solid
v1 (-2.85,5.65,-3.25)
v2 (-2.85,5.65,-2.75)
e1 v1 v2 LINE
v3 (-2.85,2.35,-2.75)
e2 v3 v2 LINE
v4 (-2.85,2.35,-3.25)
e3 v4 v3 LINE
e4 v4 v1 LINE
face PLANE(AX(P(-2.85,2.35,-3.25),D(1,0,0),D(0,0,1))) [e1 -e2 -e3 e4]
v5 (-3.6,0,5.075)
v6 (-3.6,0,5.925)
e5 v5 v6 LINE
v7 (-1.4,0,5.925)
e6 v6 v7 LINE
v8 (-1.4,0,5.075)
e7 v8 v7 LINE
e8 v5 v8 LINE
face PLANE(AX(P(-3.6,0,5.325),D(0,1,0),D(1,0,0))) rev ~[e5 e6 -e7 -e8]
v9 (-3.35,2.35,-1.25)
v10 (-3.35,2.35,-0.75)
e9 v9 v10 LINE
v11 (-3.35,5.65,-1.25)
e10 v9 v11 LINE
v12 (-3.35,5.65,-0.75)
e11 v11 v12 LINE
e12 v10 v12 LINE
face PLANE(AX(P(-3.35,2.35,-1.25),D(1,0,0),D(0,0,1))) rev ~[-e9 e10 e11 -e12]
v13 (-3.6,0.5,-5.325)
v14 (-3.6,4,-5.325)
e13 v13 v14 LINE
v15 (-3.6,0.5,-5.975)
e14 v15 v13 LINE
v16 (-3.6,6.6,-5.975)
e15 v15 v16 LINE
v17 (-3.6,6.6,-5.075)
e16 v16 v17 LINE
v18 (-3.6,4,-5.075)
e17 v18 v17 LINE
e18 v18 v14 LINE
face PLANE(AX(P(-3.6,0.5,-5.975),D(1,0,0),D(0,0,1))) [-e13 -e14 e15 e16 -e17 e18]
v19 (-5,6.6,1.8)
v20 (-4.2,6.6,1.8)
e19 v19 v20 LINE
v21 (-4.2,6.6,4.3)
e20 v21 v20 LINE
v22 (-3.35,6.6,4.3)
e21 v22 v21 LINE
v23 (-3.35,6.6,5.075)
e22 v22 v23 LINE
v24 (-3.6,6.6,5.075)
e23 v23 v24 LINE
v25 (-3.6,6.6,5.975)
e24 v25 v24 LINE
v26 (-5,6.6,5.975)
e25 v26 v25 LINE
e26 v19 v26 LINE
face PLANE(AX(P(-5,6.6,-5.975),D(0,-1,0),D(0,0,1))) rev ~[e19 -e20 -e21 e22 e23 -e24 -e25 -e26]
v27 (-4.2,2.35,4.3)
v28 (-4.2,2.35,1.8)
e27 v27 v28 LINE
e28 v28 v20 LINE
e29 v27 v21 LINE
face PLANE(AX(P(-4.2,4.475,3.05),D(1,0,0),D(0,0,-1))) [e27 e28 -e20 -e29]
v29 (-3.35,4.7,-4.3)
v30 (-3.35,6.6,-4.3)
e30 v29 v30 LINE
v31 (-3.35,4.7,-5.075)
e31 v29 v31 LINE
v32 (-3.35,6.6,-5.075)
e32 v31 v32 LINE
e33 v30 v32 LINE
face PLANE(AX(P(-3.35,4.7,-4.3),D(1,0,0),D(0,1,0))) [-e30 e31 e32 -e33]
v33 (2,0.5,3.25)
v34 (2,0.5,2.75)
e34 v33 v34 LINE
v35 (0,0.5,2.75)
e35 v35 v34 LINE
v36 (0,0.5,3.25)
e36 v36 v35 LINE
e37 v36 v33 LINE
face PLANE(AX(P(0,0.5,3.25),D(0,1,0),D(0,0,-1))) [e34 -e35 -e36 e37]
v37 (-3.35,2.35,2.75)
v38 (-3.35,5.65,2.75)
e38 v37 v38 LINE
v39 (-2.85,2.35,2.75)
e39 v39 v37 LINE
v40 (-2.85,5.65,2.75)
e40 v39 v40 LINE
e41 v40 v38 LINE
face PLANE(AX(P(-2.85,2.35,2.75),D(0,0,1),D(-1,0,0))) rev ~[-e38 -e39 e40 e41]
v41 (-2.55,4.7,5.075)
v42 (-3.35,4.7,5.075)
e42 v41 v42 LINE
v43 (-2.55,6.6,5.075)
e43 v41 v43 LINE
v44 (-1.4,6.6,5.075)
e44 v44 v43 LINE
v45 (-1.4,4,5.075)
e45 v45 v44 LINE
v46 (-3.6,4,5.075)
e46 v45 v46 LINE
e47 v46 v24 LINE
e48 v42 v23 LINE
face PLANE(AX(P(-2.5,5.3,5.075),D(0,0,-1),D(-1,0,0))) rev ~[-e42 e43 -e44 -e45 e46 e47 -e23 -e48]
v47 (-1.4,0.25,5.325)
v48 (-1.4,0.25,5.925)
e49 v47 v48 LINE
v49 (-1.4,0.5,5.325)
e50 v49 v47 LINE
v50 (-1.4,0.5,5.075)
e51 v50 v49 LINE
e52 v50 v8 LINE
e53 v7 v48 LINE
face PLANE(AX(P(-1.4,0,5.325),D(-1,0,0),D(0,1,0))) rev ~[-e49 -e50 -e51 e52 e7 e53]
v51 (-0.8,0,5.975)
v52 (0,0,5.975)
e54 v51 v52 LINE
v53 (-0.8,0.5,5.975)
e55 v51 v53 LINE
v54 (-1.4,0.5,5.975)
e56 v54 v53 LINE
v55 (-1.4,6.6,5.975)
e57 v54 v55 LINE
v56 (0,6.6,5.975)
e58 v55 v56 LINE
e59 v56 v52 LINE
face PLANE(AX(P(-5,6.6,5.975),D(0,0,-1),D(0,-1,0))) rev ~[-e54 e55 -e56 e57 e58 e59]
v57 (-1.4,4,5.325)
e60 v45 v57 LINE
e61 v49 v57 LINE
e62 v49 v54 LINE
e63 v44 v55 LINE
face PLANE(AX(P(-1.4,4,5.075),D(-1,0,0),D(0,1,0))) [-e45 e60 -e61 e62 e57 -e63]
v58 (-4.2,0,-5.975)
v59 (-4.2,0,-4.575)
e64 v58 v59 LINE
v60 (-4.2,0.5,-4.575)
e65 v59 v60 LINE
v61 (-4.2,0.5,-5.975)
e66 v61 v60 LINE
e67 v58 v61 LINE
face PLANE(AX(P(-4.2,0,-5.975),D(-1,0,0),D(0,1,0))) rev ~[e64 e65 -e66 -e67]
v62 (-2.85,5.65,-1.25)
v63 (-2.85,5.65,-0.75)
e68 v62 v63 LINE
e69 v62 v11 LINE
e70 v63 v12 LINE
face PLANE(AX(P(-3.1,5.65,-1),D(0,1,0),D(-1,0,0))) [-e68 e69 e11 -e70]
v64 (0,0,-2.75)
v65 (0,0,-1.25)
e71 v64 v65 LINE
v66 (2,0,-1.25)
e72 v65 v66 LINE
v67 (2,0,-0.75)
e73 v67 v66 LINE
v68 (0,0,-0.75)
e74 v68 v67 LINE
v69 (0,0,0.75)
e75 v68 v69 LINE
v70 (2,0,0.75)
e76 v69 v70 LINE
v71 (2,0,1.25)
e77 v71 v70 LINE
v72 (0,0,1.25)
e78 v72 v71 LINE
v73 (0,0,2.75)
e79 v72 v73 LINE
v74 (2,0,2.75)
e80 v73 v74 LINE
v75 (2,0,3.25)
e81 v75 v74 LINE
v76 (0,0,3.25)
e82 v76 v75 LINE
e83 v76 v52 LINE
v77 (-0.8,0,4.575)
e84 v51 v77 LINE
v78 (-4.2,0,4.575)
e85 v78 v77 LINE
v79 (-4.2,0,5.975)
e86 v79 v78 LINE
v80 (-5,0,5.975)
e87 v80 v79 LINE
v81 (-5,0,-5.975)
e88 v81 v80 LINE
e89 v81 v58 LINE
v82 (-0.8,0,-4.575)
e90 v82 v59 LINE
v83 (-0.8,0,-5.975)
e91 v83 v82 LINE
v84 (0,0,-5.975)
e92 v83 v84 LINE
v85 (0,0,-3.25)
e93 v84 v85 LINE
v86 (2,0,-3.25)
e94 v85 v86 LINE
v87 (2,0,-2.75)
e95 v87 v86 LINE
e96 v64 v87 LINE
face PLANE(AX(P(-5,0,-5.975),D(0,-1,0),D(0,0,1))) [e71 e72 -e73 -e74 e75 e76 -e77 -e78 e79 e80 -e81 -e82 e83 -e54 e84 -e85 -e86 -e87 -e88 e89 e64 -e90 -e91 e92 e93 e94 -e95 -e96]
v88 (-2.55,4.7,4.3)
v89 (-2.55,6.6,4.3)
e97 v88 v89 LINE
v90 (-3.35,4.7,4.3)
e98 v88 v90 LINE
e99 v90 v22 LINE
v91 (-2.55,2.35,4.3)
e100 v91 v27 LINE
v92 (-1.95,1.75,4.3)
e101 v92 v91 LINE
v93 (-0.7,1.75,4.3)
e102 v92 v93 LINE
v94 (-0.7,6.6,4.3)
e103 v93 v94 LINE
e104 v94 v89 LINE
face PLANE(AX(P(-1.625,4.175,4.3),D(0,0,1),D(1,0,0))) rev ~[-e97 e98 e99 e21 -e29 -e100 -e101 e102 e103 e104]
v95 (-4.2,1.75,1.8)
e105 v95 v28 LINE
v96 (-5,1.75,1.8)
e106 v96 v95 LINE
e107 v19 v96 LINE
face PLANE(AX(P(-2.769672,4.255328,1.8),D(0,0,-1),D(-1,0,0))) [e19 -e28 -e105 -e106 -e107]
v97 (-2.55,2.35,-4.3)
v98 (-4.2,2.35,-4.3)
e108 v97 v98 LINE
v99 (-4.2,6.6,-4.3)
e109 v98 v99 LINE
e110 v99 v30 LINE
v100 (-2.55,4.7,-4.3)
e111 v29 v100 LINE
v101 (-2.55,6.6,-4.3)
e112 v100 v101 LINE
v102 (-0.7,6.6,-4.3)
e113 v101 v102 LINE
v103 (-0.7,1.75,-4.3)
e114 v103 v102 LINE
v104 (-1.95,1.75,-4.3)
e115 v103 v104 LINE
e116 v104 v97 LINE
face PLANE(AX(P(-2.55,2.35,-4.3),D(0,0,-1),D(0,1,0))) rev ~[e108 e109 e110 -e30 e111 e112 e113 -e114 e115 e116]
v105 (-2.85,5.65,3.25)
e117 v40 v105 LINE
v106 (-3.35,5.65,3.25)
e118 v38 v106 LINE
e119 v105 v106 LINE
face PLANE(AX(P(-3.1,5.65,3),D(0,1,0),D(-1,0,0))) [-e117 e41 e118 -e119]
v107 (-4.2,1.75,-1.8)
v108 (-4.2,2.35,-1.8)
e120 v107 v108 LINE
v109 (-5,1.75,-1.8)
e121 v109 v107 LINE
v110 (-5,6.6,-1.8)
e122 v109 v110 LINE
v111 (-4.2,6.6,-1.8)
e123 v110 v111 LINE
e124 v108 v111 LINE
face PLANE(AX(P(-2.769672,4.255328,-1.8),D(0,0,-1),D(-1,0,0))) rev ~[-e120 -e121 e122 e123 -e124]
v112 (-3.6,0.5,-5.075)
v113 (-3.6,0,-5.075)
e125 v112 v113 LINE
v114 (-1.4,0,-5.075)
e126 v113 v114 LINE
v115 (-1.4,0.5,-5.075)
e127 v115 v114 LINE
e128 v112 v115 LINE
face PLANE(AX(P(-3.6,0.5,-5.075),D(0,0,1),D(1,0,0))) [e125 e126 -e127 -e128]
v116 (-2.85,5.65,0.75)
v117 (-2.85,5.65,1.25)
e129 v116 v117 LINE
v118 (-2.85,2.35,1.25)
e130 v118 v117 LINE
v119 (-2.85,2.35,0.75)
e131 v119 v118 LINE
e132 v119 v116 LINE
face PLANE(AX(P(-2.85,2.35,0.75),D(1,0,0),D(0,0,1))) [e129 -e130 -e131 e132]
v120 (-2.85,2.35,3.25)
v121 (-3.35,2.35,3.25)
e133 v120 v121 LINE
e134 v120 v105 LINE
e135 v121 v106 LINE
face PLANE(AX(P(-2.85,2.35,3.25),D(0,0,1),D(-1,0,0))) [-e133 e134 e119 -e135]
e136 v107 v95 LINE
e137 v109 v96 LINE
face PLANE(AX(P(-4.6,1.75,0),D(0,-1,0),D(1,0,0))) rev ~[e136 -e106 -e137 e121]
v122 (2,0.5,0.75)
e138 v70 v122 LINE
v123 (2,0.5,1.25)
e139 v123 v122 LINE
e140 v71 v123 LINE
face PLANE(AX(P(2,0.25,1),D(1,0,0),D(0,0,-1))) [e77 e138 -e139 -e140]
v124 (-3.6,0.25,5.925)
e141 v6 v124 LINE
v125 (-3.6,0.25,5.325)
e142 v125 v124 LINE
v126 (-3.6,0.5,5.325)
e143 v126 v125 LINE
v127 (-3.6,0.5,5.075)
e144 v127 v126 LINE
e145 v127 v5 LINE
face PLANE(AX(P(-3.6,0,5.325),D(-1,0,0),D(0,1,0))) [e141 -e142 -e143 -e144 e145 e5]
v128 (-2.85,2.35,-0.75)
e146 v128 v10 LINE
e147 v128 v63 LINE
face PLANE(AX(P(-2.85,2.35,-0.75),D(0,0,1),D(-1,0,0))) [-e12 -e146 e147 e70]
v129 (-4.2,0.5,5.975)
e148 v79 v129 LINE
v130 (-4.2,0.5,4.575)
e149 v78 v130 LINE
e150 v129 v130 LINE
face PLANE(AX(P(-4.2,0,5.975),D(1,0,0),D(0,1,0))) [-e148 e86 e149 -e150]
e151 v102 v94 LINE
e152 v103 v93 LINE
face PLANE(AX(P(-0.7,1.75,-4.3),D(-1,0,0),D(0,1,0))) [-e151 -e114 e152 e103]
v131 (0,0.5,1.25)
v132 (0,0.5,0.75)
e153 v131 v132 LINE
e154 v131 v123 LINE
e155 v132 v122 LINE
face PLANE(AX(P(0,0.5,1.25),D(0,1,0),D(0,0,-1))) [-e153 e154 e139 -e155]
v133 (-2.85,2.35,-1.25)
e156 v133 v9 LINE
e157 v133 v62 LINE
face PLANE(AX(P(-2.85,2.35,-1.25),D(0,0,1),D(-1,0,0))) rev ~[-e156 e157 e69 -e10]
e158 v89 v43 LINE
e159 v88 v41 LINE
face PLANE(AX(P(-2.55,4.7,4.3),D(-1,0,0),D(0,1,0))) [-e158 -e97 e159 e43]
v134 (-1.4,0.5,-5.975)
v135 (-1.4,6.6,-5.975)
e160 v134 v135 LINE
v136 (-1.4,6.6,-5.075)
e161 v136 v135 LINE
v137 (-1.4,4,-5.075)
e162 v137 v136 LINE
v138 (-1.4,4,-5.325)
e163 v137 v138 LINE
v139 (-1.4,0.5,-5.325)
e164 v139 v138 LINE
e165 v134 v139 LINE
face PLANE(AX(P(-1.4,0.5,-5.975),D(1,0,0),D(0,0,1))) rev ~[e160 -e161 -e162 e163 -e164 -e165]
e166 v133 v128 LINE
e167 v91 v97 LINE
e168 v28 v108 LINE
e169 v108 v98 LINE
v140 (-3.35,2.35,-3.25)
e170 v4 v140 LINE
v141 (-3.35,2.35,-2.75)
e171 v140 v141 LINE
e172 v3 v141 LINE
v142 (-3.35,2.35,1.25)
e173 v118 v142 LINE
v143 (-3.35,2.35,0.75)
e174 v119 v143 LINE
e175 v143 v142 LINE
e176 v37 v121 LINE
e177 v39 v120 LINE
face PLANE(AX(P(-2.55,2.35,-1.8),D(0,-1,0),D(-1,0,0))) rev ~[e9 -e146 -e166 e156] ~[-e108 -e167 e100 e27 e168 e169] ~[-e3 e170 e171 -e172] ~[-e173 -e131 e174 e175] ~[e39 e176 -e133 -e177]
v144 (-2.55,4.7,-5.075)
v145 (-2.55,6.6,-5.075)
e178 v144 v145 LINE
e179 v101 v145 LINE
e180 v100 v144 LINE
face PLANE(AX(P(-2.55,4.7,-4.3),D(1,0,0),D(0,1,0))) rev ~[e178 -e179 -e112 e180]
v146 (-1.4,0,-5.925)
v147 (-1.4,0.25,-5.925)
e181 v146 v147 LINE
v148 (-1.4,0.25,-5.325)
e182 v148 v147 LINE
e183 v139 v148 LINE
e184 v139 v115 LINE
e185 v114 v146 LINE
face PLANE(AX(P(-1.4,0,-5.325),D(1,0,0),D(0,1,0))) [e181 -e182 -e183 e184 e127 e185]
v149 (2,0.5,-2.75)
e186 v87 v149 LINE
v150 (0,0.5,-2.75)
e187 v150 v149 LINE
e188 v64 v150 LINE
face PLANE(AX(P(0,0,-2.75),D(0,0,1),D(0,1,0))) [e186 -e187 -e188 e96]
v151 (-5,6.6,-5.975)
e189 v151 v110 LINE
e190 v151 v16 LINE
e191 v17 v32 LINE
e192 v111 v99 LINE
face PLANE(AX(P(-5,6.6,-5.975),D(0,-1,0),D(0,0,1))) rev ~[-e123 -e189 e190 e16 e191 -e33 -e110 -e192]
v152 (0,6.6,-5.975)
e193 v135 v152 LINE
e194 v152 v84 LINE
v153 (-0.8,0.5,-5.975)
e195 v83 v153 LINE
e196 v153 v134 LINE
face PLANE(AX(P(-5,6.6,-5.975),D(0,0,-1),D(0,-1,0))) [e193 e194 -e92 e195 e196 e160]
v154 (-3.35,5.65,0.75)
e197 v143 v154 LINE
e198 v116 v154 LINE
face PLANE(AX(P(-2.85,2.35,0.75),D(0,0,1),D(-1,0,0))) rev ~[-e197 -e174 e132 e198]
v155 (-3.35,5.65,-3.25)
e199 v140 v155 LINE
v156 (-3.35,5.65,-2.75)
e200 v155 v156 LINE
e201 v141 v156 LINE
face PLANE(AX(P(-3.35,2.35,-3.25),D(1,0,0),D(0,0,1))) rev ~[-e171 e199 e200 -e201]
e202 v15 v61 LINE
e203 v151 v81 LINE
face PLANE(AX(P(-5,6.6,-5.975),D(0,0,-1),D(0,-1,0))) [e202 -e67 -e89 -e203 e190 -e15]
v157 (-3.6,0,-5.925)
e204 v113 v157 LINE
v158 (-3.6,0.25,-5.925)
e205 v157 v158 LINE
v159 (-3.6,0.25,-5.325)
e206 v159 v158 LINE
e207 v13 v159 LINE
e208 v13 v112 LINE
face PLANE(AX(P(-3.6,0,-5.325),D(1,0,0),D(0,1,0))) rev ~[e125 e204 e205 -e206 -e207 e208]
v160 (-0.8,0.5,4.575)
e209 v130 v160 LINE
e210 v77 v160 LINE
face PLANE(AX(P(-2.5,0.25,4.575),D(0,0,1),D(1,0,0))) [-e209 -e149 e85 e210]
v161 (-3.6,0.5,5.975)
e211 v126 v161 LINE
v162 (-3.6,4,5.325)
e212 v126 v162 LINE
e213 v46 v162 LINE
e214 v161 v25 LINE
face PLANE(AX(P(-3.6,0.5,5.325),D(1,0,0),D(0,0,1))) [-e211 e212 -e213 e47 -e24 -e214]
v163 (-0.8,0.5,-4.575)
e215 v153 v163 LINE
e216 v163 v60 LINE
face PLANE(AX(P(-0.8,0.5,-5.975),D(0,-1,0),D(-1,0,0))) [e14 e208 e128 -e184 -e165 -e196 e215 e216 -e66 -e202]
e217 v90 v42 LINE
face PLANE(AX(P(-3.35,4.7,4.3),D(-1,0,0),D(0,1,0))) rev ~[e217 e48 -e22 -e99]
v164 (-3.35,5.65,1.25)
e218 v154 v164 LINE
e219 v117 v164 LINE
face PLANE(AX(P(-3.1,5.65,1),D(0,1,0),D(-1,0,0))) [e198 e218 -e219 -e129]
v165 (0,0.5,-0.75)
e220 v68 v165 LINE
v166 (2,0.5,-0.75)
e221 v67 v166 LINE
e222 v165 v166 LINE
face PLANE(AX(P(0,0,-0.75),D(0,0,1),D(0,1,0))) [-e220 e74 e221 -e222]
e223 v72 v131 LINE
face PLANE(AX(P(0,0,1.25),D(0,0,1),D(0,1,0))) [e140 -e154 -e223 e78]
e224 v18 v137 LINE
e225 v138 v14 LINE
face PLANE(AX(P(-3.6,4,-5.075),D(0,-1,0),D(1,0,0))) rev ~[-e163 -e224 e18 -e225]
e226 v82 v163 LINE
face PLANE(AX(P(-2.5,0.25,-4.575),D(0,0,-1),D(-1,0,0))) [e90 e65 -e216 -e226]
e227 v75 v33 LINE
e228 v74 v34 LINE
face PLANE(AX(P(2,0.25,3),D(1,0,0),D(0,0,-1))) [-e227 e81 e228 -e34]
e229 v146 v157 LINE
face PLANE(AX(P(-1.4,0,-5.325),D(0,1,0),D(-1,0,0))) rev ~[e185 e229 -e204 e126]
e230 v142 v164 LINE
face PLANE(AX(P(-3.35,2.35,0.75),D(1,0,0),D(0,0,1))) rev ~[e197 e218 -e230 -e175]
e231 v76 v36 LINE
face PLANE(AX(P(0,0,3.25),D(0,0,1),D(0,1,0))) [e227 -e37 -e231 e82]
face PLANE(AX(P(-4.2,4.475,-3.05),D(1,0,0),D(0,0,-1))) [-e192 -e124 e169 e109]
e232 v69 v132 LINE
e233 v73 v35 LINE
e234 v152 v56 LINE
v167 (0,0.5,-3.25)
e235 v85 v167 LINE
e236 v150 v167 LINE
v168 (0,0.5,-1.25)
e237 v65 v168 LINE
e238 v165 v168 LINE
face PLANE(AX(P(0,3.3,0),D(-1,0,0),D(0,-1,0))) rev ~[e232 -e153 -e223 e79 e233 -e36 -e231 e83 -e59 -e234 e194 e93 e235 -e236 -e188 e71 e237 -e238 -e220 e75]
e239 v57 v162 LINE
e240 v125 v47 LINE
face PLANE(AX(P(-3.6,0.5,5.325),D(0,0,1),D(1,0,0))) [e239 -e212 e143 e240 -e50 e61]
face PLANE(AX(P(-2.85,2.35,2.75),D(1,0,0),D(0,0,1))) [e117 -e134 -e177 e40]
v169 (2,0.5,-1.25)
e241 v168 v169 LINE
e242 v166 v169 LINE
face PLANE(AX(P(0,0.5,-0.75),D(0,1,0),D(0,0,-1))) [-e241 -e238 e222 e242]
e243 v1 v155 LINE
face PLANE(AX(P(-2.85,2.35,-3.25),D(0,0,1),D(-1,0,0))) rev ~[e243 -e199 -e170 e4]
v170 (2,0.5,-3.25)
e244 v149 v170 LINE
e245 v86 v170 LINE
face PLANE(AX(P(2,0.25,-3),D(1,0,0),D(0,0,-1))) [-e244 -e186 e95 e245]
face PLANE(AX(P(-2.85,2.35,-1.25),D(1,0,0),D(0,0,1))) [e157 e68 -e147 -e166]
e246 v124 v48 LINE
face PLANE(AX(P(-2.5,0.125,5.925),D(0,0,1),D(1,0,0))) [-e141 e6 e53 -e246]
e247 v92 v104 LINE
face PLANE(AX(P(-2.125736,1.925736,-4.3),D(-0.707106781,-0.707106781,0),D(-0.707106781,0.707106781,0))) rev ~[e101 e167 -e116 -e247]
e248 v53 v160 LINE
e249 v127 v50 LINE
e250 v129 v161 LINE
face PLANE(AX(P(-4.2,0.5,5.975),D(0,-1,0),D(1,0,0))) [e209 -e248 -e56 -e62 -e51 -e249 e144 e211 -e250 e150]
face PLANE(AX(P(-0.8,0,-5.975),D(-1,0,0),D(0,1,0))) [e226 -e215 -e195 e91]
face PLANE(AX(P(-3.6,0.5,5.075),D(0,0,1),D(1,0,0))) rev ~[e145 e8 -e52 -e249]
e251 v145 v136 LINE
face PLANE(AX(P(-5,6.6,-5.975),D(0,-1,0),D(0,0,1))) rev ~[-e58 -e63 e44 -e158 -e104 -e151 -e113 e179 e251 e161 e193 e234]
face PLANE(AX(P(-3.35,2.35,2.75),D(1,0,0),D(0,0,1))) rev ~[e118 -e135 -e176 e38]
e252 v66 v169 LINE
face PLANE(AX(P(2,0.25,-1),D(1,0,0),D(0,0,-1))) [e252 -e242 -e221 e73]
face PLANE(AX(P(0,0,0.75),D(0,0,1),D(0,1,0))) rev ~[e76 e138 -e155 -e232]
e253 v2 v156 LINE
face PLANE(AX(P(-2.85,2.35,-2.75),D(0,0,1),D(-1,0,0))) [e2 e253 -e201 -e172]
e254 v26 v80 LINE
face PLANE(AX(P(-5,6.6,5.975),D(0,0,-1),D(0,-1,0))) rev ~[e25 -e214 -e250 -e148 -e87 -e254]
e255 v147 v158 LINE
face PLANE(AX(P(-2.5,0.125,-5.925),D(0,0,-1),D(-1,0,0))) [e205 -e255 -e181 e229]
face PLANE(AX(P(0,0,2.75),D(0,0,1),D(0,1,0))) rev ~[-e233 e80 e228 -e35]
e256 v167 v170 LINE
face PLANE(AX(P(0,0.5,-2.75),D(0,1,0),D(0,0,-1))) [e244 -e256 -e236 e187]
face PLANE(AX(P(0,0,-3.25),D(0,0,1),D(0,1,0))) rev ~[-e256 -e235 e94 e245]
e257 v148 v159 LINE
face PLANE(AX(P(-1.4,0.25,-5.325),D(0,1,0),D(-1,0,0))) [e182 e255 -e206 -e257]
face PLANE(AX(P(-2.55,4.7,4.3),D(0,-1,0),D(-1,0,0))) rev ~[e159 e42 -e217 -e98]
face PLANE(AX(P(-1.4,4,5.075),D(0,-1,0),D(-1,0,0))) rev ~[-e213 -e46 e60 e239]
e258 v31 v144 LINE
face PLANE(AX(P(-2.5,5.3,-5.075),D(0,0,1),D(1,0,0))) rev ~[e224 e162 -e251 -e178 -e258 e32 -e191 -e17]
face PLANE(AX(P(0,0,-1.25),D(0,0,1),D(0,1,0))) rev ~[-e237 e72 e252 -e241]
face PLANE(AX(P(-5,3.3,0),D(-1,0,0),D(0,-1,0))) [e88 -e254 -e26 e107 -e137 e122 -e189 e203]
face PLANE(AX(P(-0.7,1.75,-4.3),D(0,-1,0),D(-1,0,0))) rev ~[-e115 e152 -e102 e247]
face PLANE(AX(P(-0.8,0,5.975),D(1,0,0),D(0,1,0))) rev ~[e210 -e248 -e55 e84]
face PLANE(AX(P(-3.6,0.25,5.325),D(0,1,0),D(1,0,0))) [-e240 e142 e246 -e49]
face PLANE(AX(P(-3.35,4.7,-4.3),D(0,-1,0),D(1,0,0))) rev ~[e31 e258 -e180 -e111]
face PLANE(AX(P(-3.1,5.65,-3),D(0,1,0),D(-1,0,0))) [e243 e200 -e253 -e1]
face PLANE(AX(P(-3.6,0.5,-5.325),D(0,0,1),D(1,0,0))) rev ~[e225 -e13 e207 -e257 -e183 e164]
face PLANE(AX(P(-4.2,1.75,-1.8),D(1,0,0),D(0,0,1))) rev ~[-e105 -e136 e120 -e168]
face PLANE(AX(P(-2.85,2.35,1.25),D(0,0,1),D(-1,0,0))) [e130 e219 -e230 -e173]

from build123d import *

# Parameters (mm, degrees)
SKETCH1_W            = 6.6
SKETCH1_H            = 11.95
BOSS_EXTRUDE1_DEPTH  = 5
SKETCH2_W            = 3.4
SKETCH2_H            = 0.5
CUT_EXTRUDE1_DEPTH   = 1.4
SKETCH3_W            = 2.2
SKETCH3_H            = 0.65
CUT_EXTRUDE2_DEPTH   = 7.1
SKETCH4_W            = 2.2
SKETCH4_H            = 0.25
BOSS_EXTRUDE2_DEPTH  = 0.5
SKETCH5_W            = 2.2
SKETCH5_H            = 0.25
BOSS_EXTRUDE3_DEPTH  = 0.6
SKETCH6_W            = 3.4
SKETCH6_H            = 0.5
CUT_EXTRUDE3_DEPTH   = 1.4
SKETCH7_W            = 2.2
SKETCH7_H            = 0.65
CUT_EXTRUDE4_DEPTH   = 7.1
SKETCH8_W            = 2.2
SKETCH8_H            = 0.25
BOSS_EXTRUDE4_DEPTH  = 0.5
SKETCH9_W            = 2.2
SKETCH9_H            = 0.25
BOSS_EXTRUDE5_DEPTH  = 0.6
CUT_EXTRUDE5_DEPTH   = 3.6
CUT_EXTRUDE6_REACH   = 2.9
SKETCH12_W           = 2.2
SKETCH12_H           = 2.6
CUT_EXTRUDE7_REACH   = 12.275
SKETCH13_W           = 1.85
SKETCH13_H           = 4.85
SKETCH14_W           = 2.5
SKETCH14_H           = 4.25
CUT_EXTRUDE8_DEPTH   = 1.65
CUT_EXTRUDE9_REACH   = 2.9
SKETCH16_W           = 2.2
SKETCH16_H           = 2.6
CUT_EXTRUDE10_REACH  = 12.275
SKETCH17_W           = 1.85
SKETCH17_H           = 4.85
SKETCH18_W           = 2.5
SKETCH18_H           = 4.25
CUT_EXTRUDE11_DEPTH  = 1.65
CUT_EXTRUDE12_REACH  = 6.85
SKETCH20_W           = 0.8
SKETCH20_H           = 3.6
SKETCH21_W           = 0.8
SKETCH21_H           = 1.9
CUT_EXTRUDE13_DEPTH  = 2.675
SKETCH22_W           = 0.8
SKETCH22_H           = 1.9
CUT_EXTRUDE14_DEPTH  = 2.675
SKETCH23_W           = 0.5
SKETCH23_H           = 0.5
BOSS_EXTRUDE6_DEPTH  = 2
SKETCH24_W           = 0.5
SKETCH24_H           = 0.5
BOSS_EXTRUDE7_DEPTH  = 2
SKETCH25_W           = 0.5
SKETCH25_H           = 0.5
BOSS_EXTRUDE8_DEPTH  = 2
SKETCH26_W           = 0.5
SKETCH26_H           = 0.5
BOSS_EXTRUDE9_DEPTH  = 2
SKETCH27_W           = 0.5
SKETCH27_H           = 0.5
BOSS_EXTRUDE10_DEPTH = 3.3
SKETCH28_W           = 0.5
SKETCH28_H           = 0.5
BOSS_EXTRUDE11_DEPTH = 3.3
SKETCH29_W           = 0.5
SKETCH29_H           = 0.5
BOSS_EXTRUDE12_DEPTH = 3.3
SKETCH30_W           = 0.5
SKETCH30_H           = 0.5
BOSS_EXTRUDE13_DEPTH = 3.3
DRAFT1_ANGLE         = 45


with BuildPart() as part:
    # Sketch1 → Boss-Extrude1 (new body)
    with BuildSketch(Plane(origin=(-5, 0, 0), x_dir=(0, -1, 0), z_dir=(-1, 0, 0))):
        with Locations((-3.3, 0)):
            Rectangle(SKETCH1_W, SKETCH1_H)
    extrude(amount=-BOSS_EXTRUDE1_DEPTH)

    # Sketch2 → Cut-Extrude1 (cut)
    with BuildSketch(Plane.XY.offset(5.975)):
        with Locations((-2.5, 0.25)):
            Rectangle(SKETCH2_W, SKETCH2_H)
    extrude(amount=-CUT_EXTRUDE1_DEPTH, mode=Mode.SUBTRACT)

    # Sketch3 → Cut-Extrude2 (cut, through all)
    with BuildSketch(Plane.XZ.offset(-0.5)):
        with Locations((-2.5, 5.65)):
            Rectangle(SKETCH3_W, SKETCH3_H)
    extrude(amount=-CUT_EXTRUDE2_DEPTH, mode=Mode.SUBTRACT)

    # Sketch4 → Boss-Extrude2 (add)
    with BuildSketch(Plane.XZ.offset(-0.5)):
        with Locations((-2.5, 5.2)):
            Rectangle(SKETCH4_W, SKETCH4_H)
    extrude(amount=BOSS_EXTRUDE2_DEPTH)

    # Sketch5 → Boss-Extrude3 (add)
    with BuildSketch(Plane.XY.offset(5.325)):
        with Locations((-2.5, 0.125)):
            Rectangle(SKETCH5_W, SKETCH5_H)
    extrude(amount=BOSS_EXTRUDE3_DEPTH)

    # Sketch6 → Cut-Extrude3 (cut)
    with BuildSketch(Plane(origin=(0, 0, -5.975), x_dir=(-1, 0, 0), z_dir=(0, 0, -1))):
        with Locations((2.5, 0.25)):
            Rectangle(SKETCH6_W, SKETCH6_H)
    extrude(amount=-CUT_EXTRUDE3_DEPTH, mode=Mode.SUBTRACT)

    # Sketch7 → Cut-Extrude4 (cut, through all)
    with BuildSketch(Plane.XZ.offset(-0.5)):
        with Locations((-2.5, -5.65)):
            Rectangle(SKETCH7_W, SKETCH7_H)
    extrude(amount=-CUT_EXTRUDE4_DEPTH, mode=Mode.SUBTRACT)

    # Sketch8 → Boss-Extrude4 (add)
    with BuildSketch(Plane.XZ.offset(-0.5)):
        with Locations((-2.5, -5.2)):
            Rectangle(SKETCH8_W, SKETCH8_H)
    extrude(amount=BOSS_EXTRUDE4_DEPTH)

    # Sketch9 → Boss-Extrude5 (add)
    with BuildSketch(Plane(origin=(0, 0, -5.325), x_dir=(-1, 0, 0), z_dir=(0, 0, -1))):
        with Locations((2.5, 0.125)):
            Rectangle(SKETCH9_W, SKETCH9_H)
    extrude(amount=BOSS_EXTRUDE5_DEPTH)

    # Sketch10 → Cut-Extrude5 (cut)
    with BuildSketch(Plane(origin=(0, 0, -1.8), x_dir=(-1, 0, 0), z_dir=(0, 0, -1))):
        Polygon((5, 2.35), (5, 6.6), (0.7, 6.6), (0.7, 1.75), (2.55, 1.75), (2.55, 2.35), align=None)
    extrude(amount=-CUT_EXTRUDE5_DEPTH, mode=Mode.SUBTRACT)

    # Sketch12 → Cut-Extrude6 (cut, up to next)
    with BuildSketch(Plane(origin=(0, 0, 5.075), x_dir=(-1, 0, 0), z_dir=(0, 0, -1)), mode=Mode.PRIVATE) as cut_extrude6_sk1:
        with Locations((2.5, 5.3)):
            Rectangle(SKETCH12_W, SKETCH12_H)
    cut_extrude6_tool1 = extrude(cut_extrude6_sk1.sketch, amount=-CUT_EXTRUDE6_REACH, mode=Mode.PRIVATE) & part.part
    add(cut_extrude6_tool1.solids().sort_by_distance((-2.5, 5.3, 5.075))[0], mode=Mode.SUBTRACT)

    # Sketch13 → Cut-Extrude7 (cut, up to next)
    with BuildSketch(Plane.XY.offset(4.3), mode=Mode.PRIVATE) as cut_extrude7_sk1:
        with Locations((-1.625, 4.175)):
            Rectangle(SKETCH13_W, SKETCH13_H)
    cut_extrude7_tool1 = extrude(cut_extrude7_sk1.sketch, amount=-CUT_EXTRUDE7_REACH, mode=Mode.PRIVATE) & part.part
    add(cut_extrude7_tool1.solids().sort_by_distance((-1.625, 4.175, 4.3))[0], mode=Mode.SUBTRACT)

    # Sketch14 → Cut-Extrude8 (cut)
    with BuildSketch(Plane(origin=(-2.55, 0, 0), x_dir=(0, 0, -1), z_dir=(1, 0, 0))):
        with Locations((-3.05, 4.475)):
            Rectangle(SKETCH14_W, SKETCH14_H)
    extrude(amount=-CUT_EXTRUDE8_DEPTH, mode=Mode.SUBTRACT)

    # Sketch16 → Cut-Extrude9 (cut, up to next)
    with BuildSketch(Plane.XY.offset(-5.075), mode=Mode.PRIVATE) as cut_extrude9_sk1:
        with Locations((-2.5, 5.3)):
            Rectangle(SKETCH16_W, SKETCH16_H)
    cut_extrude9_tool1 = extrude(cut_extrude9_sk1.sketch, amount=-CUT_EXTRUDE9_REACH, mode=Mode.PRIVATE) & part.part
    add(cut_extrude9_tool1.solids().sort_by_distance((-2.5, 5.3, -5.075))[0], mode=Mode.SUBTRACT)

    # Sketch17 → Cut-Extrude10 (cut, up to next)
    with BuildSketch(Plane(origin=(0, 0, -4.3), x_dir=(-1, 0, 0), z_dir=(0, 0, -1)), mode=Mode.PRIVATE) as cut_extrude10_sk1:
        with Locations((1.625, 4.175)):
            Rectangle(SKETCH17_W, SKETCH17_H)
    cut_extrude10_tool1 = extrude(cut_extrude10_sk1.sketch, amount=-CUT_EXTRUDE10_REACH, mode=Mode.PRIVATE) & part.part
    add(cut_extrude10_tool1.solids().sort_by_distance((-1.625, 4.175, -4.3))[0], mode=Mode.SUBTRACT)

    # Sketch18 → Cut-Extrude11 (cut)
    with BuildSketch(Plane(origin=(-2.55, 0, 0), x_dir=(0, 0, -1), z_dir=(1, 0, 0))):
        with Locations((3.05, 4.475)):
            Rectangle(SKETCH18_W, SKETCH18_H)
    extrude(amount=-CUT_EXTRUDE11_DEPTH, mode=Mode.SUBTRACT)

    # Sketch20 → Cut-Extrude12 (cut, up to next)
    with BuildSketch(Plane.XZ.offset(-1.75), mode=Mode.PRIVATE) as cut_extrude12_sk1:
        with Locations((-4.6, 0)):
            Rectangle(SKETCH20_W, SKETCH20_H)
    cut_extrude12_tool1 = extrude(cut_extrude12_sk1.sketch, amount=-CUT_EXTRUDE12_REACH, mode=Mode.PRIVATE) & part.part
    add(cut_extrude12_tool1.solids().sort_by_distance((-4.6, 1.75, 0))[0], mode=Mode.SUBTRACT)

    # Sketch21 → Cut-Extrude13 (cut, through all)
    with BuildSketch(Plane(origin=(0, 0, 4.3), x_dir=(-1, 0, 0), z_dir=(0, 0, -1))):
        with Locations((2.95, 5.65)):
            Rectangle(SKETCH21_W, SKETCH21_H)
    extrude(amount=-CUT_EXTRUDE13_DEPTH, mode=Mode.SUBTRACT)

    # Sketch22 → Cut-Extrude14 (cut, through all)
    with BuildSketch(Plane.XY.offset(-4.3)):
        with Locations((-2.95, 5.65)):
            Rectangle(SKETCH22_W, SKETCH22_H)
    extrude(amount=-CUT_EXTRUDE14_DEPTH, mode=Mode.SUBTRACT)

    # Sketch23 → Boss-Extrude6 (add)
    with BuildSketch(Plane(origin=(0, 0, 0), x_dir=(0, 0, -1), z_dir=(1, 0, 0))):
        with Locations((-3, 0.25)):
            Rectangle(SKETCH23_W, SKETCH23_H)
    extrude(amount=BOSS_EXTRUDE6_DEPTH)

    # Sketch24 → Boss-Extrude7 (add)
    with BuildSketch(Plane(origin=(0, 0, 0), x_dir=(0, 0, -1), z_dir=(1, 0, 0))):
        with Locations((-1, 0.25)):
            Rectangle(SKETCH24_W, SKETCH24_H)
    extrude(amount=BOSS_EXTRUDE7_DEPTH)

    # Sketch25 → Boss-Extrude8 (add)
    with BuildSketch(Plane(origin=(0, 0, 0), x_dir=(0, 0, -1), z_dir=(1, 0, 0))):
        with Locations((1, 0.25)):
            Rectangle(SKETCH25_W, SKETCH25_H)
    extrude(amount=BOSS_EXTRUDE8_DEPTH)

    # Sketch26 → Boss-Extrude9 (add)
    with BuildSketch(Plane(origin=(0, 0, 0), x_dir=(0, 0, -1), z_dir=(1, 0, 0))):
        with Locations((3, 0.25)):
            Rectangle(SKETCH26_W, SKETCH26_H)
    extrude(amount=BOSS_EXTRUDE9_DEPTH)

    # Sketch27 → Boss-Extrude10 (add)
    with BuildSketch(Plane(origin=(0, 2.35, 0), x_dir=(-1, 0, 0), z_dir=(0, 1, 0))):
        with Locations((3.1, -3)):
            Rectangle(SKETCH27_W, SKETCH27_H)
    extrude(amount=BOSS_EXTRUDE10_DEPTH)

    # Sketch28 → Boss-Extrude11 (add)
    with BuildSketch(Plane(origin=(0, 2.35, 0), x_dir=(-1, 0, 0), z_dir=(0, 1, 0))):
        with Locations((3.1, -1)):
            Rectangle(SKETCH28_W, SKETCH28_H)
    extrude(amount=BOSS_EXTRUDE11_DEPTH)

    # Sketch29 → Boss-Extrude12 (add)
    with BuildSketch(Plane(origin=(0, 2.35, 0), x_dir=(-1, 0, 0), z_dir=(0, 1, 0))):
        with Locations((3.1, 1)):
            Rectangle(SKETCH29_W, SKETCH29_H)
    extrude(amount=BOSS_EXTRUDE12_DEPTH)

    # Sketch30 → Boss-Extrude13 (add)
    with BuildSketch(Plane(origin=(0, 2.35, 0), x_dir=(-1, 0, 0), z_dir=(0, 1, 0))):
        with Locations((3.1, 3)):
            Rectangle(SKETCH30_W, SKETCH30_H)
    extrude(amount=BOSS_EXTRUDE13_DEPTH)

    # Draft1
    draft1_faces = [part.faces().sort_by_distance(p)[0] for p in [
        (-2.55, 2.05, 0),
    ]]
    draft(draft1_faces, Plane(origin=(-2.55, 2.35, 1.8), x_dir=(0, 0, 1), z_dir=(0, 1, 0)), DRAFT1_ANGLE)


solid = part.part
